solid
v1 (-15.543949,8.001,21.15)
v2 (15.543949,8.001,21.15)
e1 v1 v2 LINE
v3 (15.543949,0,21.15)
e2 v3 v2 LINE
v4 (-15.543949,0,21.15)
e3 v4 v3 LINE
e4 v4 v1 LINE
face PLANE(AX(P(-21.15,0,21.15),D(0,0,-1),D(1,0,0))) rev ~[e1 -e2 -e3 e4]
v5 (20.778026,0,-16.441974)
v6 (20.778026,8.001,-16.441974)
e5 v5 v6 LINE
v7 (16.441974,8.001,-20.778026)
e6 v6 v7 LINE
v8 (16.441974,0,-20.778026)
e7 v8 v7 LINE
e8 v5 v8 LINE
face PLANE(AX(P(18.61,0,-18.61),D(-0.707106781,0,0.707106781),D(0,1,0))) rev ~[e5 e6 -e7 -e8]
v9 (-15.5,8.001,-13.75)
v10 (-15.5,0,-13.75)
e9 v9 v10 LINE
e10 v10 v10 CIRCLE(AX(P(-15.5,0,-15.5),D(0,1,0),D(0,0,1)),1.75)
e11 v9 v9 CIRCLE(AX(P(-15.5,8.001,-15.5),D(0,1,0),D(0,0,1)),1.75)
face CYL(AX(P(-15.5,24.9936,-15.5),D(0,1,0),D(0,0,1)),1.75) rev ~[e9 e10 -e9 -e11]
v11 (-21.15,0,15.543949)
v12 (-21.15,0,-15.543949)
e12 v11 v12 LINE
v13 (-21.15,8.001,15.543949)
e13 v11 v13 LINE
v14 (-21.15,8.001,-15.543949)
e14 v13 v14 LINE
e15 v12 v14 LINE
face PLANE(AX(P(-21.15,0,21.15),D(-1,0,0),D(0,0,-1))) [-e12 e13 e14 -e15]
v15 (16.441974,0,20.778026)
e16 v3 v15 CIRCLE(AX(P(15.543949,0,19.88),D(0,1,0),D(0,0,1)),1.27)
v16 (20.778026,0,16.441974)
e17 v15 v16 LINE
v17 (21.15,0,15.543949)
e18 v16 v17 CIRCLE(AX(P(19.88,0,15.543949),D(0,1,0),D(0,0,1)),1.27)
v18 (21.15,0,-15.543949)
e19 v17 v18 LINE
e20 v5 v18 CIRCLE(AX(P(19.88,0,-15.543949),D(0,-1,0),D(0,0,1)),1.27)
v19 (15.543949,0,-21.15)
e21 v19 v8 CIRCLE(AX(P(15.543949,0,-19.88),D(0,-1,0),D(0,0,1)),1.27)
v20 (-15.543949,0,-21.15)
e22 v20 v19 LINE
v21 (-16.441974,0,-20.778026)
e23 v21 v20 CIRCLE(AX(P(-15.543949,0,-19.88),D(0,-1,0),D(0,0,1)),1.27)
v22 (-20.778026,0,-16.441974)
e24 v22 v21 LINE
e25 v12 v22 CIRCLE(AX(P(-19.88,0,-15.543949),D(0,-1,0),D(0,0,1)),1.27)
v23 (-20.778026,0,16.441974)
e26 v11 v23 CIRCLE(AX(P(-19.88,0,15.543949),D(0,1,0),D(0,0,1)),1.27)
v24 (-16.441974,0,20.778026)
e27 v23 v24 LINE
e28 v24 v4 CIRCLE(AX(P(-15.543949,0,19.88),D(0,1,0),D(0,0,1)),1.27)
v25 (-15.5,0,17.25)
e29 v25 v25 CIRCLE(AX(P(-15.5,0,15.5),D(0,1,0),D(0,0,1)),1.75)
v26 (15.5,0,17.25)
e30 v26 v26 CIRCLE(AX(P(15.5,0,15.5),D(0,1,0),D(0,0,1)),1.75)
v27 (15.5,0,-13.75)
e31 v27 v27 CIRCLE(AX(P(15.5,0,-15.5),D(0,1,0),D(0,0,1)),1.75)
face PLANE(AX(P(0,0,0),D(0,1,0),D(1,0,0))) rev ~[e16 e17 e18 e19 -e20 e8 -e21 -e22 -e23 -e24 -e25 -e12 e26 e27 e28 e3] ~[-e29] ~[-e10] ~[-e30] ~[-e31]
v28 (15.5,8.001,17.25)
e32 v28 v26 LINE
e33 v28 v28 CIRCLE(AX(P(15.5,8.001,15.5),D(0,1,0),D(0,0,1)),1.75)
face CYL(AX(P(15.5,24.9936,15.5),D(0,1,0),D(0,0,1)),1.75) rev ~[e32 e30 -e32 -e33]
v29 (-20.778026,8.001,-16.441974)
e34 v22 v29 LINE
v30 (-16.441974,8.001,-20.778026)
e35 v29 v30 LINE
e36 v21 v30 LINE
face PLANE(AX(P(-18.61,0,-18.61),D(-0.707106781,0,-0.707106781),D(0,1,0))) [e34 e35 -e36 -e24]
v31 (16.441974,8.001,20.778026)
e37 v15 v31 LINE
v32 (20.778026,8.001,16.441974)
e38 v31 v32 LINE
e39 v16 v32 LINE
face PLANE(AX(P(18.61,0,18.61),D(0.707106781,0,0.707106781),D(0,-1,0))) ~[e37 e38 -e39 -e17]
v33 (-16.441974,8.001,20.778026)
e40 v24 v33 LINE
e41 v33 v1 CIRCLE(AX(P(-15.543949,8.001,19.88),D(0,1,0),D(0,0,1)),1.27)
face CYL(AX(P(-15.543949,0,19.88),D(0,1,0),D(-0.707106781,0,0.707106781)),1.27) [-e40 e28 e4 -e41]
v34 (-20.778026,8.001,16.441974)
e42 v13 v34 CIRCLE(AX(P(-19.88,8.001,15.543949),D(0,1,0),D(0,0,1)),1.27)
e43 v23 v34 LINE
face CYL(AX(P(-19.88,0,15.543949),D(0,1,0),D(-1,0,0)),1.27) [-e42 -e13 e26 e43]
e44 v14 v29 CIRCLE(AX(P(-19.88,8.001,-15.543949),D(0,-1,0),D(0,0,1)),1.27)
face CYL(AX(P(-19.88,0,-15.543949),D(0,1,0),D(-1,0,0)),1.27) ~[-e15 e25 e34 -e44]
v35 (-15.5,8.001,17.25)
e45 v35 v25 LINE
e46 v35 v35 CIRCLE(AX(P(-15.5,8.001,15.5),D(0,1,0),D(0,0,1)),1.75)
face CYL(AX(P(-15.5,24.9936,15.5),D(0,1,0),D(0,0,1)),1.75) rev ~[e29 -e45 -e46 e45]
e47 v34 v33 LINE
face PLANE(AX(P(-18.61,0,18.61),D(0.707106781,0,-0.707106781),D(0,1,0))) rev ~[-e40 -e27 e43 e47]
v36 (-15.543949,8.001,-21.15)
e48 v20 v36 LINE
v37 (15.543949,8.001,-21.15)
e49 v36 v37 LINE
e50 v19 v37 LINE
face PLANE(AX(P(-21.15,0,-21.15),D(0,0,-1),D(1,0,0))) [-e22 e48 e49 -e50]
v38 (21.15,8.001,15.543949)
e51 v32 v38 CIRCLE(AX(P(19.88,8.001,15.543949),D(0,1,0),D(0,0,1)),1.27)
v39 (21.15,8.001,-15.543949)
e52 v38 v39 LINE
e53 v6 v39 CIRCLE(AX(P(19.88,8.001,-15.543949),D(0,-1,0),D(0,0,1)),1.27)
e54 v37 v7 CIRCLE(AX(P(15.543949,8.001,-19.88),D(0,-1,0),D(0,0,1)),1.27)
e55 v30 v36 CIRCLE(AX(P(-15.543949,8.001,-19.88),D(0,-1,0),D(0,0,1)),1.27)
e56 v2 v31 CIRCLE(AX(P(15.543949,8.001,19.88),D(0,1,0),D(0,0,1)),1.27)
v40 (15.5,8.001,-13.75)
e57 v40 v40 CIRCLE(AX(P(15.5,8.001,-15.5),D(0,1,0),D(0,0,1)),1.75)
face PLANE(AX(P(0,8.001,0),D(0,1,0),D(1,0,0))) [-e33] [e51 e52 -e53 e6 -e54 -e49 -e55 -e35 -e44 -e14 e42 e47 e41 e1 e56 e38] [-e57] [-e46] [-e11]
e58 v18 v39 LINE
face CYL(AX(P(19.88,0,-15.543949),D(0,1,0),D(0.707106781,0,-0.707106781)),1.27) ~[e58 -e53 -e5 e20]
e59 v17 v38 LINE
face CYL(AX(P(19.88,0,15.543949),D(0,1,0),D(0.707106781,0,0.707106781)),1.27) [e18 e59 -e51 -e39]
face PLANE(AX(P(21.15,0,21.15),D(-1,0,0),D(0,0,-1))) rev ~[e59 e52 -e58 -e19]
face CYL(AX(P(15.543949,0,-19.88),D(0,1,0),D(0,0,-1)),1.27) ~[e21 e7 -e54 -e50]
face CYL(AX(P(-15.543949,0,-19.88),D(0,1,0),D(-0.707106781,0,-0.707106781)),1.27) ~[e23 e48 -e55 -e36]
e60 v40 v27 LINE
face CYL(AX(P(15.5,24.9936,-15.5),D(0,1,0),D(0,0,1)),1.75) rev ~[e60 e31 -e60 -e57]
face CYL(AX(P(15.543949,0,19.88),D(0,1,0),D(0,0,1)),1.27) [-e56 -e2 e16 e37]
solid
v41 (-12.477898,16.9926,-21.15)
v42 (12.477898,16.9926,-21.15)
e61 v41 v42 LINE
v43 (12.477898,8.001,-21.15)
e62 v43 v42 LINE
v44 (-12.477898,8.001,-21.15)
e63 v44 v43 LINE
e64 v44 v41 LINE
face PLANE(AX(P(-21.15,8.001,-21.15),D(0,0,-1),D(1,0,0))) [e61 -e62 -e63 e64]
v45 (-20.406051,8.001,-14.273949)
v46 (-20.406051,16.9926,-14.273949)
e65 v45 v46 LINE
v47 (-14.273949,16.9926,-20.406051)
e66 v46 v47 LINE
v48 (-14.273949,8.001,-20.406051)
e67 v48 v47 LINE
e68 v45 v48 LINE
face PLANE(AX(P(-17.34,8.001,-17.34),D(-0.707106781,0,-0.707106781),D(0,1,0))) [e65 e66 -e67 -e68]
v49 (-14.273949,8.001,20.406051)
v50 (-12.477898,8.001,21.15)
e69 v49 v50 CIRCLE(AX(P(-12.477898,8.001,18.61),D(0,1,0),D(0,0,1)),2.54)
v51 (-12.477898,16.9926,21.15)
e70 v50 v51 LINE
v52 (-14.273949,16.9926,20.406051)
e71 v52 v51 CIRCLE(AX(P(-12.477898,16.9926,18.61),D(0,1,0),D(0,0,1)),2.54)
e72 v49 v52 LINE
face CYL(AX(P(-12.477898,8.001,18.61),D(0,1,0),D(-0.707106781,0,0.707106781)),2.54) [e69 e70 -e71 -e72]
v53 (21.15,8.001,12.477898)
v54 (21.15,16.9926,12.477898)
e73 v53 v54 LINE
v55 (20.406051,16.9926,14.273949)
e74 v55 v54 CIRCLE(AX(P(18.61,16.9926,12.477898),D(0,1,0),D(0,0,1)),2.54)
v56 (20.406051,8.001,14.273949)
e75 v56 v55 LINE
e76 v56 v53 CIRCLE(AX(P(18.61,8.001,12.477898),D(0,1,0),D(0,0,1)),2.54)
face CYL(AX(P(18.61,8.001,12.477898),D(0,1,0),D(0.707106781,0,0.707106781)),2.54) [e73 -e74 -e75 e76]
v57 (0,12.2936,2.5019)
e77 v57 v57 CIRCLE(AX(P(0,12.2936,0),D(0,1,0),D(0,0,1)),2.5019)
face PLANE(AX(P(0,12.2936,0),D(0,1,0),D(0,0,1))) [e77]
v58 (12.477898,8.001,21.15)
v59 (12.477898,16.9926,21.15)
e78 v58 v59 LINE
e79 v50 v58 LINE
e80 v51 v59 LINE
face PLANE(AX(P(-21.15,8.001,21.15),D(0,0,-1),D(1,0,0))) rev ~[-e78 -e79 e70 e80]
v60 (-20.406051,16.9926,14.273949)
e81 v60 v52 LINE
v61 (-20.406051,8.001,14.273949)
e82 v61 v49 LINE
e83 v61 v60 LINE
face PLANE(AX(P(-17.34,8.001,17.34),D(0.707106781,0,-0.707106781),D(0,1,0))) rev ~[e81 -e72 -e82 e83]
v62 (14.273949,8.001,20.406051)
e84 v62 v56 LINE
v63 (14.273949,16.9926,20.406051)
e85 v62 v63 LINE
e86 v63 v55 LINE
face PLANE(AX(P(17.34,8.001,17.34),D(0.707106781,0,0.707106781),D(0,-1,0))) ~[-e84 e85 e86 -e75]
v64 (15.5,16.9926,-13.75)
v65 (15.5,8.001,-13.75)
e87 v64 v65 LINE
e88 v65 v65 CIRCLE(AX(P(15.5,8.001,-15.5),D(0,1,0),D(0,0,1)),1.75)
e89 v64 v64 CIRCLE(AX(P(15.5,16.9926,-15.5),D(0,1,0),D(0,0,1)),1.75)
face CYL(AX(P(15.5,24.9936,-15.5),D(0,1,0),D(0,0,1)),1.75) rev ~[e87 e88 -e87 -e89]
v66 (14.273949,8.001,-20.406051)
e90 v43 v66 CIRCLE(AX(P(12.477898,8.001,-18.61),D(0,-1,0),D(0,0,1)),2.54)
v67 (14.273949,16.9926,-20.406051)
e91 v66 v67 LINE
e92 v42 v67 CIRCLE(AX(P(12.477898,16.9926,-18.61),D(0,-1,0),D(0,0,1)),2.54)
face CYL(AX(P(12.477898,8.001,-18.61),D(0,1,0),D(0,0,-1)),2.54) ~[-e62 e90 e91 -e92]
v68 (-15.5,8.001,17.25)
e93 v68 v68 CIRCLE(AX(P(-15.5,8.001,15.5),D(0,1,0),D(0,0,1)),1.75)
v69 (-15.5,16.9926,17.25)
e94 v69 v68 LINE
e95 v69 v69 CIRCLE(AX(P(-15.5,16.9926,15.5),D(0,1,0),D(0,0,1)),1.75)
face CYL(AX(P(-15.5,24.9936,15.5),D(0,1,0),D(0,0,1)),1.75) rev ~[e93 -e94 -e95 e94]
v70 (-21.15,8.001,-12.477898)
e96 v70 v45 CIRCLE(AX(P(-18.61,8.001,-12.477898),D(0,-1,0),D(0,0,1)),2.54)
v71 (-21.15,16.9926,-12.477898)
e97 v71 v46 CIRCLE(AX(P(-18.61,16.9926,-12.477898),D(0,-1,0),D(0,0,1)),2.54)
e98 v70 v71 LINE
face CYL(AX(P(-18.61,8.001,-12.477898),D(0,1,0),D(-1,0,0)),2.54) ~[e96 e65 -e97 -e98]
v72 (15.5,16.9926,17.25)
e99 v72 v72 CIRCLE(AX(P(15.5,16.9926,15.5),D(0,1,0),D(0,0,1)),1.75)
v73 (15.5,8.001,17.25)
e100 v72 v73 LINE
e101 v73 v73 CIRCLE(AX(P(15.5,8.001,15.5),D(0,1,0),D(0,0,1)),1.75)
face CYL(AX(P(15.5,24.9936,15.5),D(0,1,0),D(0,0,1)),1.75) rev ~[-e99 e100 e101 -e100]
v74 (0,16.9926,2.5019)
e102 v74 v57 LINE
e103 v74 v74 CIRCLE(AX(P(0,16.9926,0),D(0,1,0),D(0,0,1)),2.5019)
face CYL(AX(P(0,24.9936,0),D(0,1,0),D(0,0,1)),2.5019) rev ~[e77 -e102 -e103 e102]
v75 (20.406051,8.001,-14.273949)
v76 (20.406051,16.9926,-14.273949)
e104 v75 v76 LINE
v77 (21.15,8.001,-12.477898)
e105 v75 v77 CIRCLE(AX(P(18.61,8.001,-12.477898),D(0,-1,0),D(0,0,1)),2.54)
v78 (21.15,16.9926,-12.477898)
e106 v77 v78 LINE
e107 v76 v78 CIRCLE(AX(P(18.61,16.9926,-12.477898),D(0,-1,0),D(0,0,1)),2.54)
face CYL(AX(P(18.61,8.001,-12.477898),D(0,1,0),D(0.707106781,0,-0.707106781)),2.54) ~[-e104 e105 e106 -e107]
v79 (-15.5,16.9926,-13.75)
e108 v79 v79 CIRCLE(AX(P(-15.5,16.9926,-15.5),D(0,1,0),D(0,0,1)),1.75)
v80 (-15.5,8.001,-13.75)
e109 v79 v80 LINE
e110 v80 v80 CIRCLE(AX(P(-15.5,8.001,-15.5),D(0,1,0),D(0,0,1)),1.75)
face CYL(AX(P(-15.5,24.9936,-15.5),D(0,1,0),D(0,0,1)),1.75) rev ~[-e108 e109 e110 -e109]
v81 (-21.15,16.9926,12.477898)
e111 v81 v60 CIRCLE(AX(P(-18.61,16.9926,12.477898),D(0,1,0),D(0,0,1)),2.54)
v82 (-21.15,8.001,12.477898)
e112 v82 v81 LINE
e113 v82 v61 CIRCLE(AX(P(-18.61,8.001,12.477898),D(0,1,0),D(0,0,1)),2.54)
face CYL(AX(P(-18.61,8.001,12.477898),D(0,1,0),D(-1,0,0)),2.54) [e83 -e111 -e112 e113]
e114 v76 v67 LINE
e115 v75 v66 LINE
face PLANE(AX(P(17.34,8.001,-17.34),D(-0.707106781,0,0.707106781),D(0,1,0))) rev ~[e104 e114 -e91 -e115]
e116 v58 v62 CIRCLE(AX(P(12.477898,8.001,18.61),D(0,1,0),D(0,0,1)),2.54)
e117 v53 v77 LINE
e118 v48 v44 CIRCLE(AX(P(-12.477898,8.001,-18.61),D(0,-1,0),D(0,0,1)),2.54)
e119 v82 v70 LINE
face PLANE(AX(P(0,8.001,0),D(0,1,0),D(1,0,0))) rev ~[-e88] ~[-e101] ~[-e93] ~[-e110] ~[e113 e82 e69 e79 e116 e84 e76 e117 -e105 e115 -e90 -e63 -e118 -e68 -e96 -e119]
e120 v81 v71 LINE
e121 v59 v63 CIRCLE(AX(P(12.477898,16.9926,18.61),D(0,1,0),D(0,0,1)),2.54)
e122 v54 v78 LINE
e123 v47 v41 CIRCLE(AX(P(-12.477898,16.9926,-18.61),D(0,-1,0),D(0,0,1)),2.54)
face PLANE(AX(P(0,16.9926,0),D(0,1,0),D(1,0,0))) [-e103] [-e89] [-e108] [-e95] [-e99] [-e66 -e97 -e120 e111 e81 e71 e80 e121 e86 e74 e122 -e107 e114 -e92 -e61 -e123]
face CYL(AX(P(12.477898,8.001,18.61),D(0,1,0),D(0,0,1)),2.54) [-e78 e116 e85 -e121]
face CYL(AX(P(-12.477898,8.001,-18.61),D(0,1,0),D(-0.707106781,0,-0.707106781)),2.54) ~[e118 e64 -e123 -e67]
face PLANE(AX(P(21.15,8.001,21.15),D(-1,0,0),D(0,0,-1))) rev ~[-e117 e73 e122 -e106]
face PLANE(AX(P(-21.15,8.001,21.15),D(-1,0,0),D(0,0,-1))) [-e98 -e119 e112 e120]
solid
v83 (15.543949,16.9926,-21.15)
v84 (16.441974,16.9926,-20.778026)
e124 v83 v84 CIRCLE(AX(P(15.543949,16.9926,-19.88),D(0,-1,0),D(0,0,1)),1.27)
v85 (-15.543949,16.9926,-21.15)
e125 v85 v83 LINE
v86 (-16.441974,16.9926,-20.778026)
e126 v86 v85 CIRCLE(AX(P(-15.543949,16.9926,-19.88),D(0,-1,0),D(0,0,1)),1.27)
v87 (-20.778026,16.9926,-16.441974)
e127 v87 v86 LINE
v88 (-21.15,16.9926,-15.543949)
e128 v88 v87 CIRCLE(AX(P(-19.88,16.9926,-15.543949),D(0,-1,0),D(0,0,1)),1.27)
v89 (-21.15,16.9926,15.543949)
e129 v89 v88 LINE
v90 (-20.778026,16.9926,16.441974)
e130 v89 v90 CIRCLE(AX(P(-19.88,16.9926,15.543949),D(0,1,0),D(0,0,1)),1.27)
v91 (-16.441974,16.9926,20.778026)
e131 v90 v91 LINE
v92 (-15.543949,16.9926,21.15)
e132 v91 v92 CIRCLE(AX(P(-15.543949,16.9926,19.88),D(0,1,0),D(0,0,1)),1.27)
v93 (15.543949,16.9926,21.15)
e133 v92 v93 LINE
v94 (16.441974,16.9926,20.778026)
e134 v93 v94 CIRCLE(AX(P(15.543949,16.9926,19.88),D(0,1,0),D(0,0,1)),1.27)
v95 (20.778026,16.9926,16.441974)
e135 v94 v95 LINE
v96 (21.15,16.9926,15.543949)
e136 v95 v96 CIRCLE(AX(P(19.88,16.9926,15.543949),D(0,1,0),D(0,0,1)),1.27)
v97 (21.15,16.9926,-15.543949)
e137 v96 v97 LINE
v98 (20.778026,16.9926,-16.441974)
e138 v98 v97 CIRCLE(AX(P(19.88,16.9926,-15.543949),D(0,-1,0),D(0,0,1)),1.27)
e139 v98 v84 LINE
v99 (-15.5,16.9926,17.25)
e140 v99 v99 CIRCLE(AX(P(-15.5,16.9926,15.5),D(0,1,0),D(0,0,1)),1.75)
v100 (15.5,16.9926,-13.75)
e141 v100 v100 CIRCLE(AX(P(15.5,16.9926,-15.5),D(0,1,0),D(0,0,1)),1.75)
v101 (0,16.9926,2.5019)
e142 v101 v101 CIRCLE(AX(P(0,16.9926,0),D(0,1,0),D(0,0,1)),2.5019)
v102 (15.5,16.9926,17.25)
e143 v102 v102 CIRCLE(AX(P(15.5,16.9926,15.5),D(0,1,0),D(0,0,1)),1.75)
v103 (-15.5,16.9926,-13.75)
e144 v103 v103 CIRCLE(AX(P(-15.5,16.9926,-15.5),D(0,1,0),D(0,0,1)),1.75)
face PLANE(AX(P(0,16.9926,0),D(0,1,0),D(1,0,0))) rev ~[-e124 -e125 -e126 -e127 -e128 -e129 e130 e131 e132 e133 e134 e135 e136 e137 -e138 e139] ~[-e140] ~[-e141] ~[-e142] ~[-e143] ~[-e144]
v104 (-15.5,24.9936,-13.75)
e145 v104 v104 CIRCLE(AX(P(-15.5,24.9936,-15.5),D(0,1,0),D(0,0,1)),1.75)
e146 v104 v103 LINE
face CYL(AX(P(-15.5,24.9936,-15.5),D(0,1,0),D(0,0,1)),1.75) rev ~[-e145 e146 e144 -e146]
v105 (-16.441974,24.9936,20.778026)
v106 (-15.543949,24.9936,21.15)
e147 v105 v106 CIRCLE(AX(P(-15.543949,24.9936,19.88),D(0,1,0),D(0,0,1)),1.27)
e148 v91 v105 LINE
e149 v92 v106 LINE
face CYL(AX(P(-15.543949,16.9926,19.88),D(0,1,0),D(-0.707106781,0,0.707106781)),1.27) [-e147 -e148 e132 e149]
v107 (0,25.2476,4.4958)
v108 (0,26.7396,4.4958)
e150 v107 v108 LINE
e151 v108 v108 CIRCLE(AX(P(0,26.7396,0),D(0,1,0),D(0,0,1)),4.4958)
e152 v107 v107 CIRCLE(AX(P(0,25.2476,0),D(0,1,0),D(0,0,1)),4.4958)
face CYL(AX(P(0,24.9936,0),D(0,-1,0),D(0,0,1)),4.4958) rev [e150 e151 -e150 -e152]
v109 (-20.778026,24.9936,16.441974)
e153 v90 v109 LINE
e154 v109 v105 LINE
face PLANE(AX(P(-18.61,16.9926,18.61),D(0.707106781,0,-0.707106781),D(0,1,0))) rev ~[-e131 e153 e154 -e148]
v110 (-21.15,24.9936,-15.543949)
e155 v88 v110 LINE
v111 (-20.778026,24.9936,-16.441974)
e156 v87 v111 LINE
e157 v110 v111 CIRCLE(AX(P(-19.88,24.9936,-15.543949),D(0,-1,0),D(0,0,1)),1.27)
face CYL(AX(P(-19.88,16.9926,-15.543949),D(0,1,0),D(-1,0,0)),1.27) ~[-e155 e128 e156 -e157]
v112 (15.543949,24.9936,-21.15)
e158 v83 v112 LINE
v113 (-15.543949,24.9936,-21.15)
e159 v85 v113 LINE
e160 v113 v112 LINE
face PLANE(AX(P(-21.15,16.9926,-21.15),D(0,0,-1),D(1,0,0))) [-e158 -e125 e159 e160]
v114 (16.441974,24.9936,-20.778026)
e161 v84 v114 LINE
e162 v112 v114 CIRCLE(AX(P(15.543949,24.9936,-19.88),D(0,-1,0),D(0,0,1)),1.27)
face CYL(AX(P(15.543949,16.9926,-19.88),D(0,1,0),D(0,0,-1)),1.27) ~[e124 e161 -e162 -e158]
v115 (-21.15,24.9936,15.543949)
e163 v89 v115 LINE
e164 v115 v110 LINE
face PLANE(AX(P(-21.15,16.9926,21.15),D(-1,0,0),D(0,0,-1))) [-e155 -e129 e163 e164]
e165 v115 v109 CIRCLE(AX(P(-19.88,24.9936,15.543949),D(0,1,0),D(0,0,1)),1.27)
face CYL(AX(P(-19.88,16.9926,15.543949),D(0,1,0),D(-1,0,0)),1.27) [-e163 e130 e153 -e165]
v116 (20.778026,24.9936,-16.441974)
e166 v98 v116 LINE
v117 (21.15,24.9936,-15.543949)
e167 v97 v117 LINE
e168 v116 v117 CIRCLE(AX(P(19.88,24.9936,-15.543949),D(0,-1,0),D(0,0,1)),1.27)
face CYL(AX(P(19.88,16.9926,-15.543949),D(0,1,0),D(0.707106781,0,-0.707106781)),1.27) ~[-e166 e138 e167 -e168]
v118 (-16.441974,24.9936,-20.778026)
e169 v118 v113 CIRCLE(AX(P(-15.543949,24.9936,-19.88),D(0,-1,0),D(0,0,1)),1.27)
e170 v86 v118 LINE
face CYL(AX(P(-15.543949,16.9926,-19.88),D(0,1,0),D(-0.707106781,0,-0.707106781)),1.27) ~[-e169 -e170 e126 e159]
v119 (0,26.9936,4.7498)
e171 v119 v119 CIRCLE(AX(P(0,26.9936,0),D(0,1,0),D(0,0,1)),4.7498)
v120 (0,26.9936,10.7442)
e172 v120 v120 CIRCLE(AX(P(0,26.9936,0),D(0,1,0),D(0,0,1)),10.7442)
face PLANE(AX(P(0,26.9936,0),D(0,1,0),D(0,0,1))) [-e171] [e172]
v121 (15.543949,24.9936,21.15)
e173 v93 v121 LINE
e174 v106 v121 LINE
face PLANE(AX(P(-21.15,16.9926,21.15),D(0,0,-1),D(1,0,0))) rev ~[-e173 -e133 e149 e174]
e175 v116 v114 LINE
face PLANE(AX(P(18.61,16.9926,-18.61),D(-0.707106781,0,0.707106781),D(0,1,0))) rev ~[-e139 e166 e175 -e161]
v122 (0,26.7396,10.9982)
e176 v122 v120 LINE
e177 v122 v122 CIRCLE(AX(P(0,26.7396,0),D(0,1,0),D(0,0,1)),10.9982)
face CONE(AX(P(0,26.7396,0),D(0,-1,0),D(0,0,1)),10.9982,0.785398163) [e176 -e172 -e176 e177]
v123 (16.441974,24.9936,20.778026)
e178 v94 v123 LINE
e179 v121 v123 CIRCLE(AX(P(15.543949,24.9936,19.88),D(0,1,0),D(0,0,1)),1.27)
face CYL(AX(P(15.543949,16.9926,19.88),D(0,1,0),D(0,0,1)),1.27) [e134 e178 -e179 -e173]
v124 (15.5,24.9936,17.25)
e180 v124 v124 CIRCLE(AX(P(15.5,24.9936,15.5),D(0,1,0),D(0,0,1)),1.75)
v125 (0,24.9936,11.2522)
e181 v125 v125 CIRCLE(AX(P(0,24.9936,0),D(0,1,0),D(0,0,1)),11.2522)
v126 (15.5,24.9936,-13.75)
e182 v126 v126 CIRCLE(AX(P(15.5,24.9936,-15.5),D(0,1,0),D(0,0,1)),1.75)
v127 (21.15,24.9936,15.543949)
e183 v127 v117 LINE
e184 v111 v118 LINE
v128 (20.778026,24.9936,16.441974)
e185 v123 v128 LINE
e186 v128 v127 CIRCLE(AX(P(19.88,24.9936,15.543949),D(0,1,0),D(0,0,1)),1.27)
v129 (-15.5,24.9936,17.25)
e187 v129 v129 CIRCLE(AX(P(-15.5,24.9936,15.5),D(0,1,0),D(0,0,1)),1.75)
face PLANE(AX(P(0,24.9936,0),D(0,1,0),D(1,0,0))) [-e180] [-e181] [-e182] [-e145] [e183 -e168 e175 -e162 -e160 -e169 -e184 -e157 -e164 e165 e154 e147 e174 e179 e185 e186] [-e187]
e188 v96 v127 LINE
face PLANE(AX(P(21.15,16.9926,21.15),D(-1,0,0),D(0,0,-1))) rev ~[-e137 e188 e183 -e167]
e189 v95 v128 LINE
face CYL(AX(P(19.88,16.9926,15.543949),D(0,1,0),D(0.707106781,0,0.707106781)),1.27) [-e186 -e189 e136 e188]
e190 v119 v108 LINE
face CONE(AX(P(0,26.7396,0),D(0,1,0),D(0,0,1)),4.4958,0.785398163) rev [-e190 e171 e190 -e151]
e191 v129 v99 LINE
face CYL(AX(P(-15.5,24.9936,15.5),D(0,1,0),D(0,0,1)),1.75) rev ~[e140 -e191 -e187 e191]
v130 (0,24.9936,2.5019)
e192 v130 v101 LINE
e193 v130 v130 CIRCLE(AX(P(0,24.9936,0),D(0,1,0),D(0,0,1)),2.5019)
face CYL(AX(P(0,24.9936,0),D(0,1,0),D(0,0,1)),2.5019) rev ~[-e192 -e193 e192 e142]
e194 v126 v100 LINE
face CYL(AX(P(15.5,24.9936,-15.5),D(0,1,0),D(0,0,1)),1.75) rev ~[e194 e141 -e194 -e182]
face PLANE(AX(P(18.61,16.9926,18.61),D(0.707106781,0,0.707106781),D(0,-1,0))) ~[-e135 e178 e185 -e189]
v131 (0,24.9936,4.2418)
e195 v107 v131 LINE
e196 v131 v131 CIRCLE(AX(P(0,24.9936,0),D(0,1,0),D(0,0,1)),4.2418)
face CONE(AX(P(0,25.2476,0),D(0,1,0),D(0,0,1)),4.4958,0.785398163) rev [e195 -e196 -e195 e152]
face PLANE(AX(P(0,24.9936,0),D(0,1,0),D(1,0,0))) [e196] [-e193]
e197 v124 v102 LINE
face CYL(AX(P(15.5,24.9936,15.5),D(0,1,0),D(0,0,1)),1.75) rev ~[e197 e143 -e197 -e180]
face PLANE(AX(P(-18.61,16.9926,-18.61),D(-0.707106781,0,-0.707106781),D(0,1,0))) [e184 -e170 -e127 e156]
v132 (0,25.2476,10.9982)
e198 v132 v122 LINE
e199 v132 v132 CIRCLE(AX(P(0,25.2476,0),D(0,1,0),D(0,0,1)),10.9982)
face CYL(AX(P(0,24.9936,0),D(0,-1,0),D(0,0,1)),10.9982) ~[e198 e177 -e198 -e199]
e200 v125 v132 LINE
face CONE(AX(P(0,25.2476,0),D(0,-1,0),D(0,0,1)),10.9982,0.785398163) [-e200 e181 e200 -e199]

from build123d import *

# Parameters (mm, degrees)
SKETCH1_W           = 42.3
SKETCH1_H           = 42.3
BOSS_EXTRUDE1_DEPTH = 8.001
CHAMFER1_SIZE       = 5.08
SKETCH2_W           = 42.3
SKETCH2_H           = 42.3
BOSS_EXTRUDE2_DEPTH = 8.9916
CHAMFER3_SIZE       = 7.62
FILLET1_R           = 2.54
FILLET2_R           = 1.27
SKETCH3_W           = 42.3
SKETCH3_H           = 42.3
BOSS_EXTRUDE3_DEPTH = 8.001
CHAMFER4_SIZE       = 5.08
FILLET3_R           = 1.27
SKETCH4_R           = 10.9982
SKETCH4_R_2         = 4.4958
BOSS_EXTRUDE4_DEPTH = 2
CHAMFER5_SIZE       = 0.254
SKETCH5_R           = 2.5019
CUT_EXTRUDE1_DEPTH  = 12.7
SKETCH6_R           = 1.75
CUT_EXTRUDE2_DEPTH  = 39.978520251


with BuildPart() as part:
    # Sketch1 → Boss-Extrude1 (new body)
    with BuildSketch(Plane(origin=(0, 0, 0), x_dir=(1, 0, 0), z_dir=(0, 1, 0))):
        Rectangle(SKETCH1_W, SKETCH1_H)
    extrude(amount=BOSS_EXTRUDE1_DEPTH)

    # Chamfer1
    chamfer1_edges = [part.edges().sort_by_distance(p)[0] for p in [
        (21.15, 4.0005, 21.15),
        (-21.15, 4.0005, 21.15),
        (-21.15, 4.0005, -21.15),
        (21.15, 4.0005, -21.15),
    ]]
    chamfer(chamfer1_edges, length=CHAMFER1_SIZE)

    # Fillet2
    fillet2_edges = [part.edges().sort_by_distance(p)[0] for p in [
        (16.07, 4.0005, 21.15),
        (-16.07, 4.0005, 21.15),
        (-21.15, 4.0005, -16.07),
        (-21.15, 4.0005, 16.07),
        (16.07, 4.0005, -21.15),
        (-16.07, 4.0005, -21.15),
        (21.15, 4.0005, 16.07),
        (21.15, 4.0005, -16.07),
    ]]
    fillet(fillet2_edges, radius=FILLET2_R)


with BuildPart() as body_2:
    # Sketch2 → Boss-Extrude2 (new body)
    with BuildSketch(Plane(origin=(0, 8.001, 0), x_dir=(1, 0, 0), z_dir=(0, 1, 0))):
        Rectangle(SKETCH2_W, SKETCH2_H)
    extrude(amount=BOSS_EXTRUDE2_DEPTH)

    # Chamfer3
    chamfer3_edges = [body_2.edges().sort_by_distance(p)[0] for p in [
        (21.15, 12.4968, 21.15),
        (-21.15, 12.4968, 21.15),
        (-21.15, 12.4968, -21.15),
        (21.15, 12.4968, -21.15),
    ]]
    chamfer(chamfer3_edges, length=CHAMFER3_SIZE)

    # Fillet1
    fillet1_edges = [body_2.edges().sort_by_distance(p)[0] for p in [
        (-21.15, 12.4968, 13.53),
        (-21.15, 12.4968, -13.53),
        (13.53, 12.4968, -21.15),
        (-13.53, 12.4968, -21.15),
        (13.53, 12.4968, 21.15),
        (-13.53, 12.4968, 21.15),
        (21.15, 12.4968, -13.53),
        (21.15, 12.4968, 13.53),
    ]]
    fillet(fillet1_edges, radius=FILLET1_R)


with BuildPart() as body_3:
    # Sketch3 → Boss-Extrude3 (new body)
    with BuildSketch(Plane(origin=(0, 16.9926, 0), x_dir=(1, 0, 0), z_dir=(0, 1, 0))):
        Rectangle(SKETCH3_W, SKETCH3_H)
    extrude(amount=BOSS_EXTRUDE3_DEPTH)

    # Chamfer4
    chamfer4_edges = [body_3.edges().sort_by_distance(p)[0] for p in [
        (21.15, 20.9931, 21.15),
        (-21.15, 20.9931, 21.15),
        (-21.15, 20.9931, -21.15),
        (21.15, 20.9931, -21.15),
    ]]
    chamfer(chamfer4_edges, length=CHAMFER4_SIZE)

    # Fillet3
    fillet3_edges = [body_3.edges().sort_by_distance(p)[0] for p in [
        (16.07, 20.9931, 21.15),
        (-16.07, 20.9931, 21.15),
        (-21.15, 20.9931, -16.07),
        (-21.15, 20.9931, 16.07),
        (16.07, 20.9931, -21.15),
        (-16.07, 20.9931, -21.15),
        (21.15, 20.9931, 16.07),
        (21.15, 20.9931, -16.07),
    ]]
    fillet(fillet3_edges, radius=FILLET3_R)

    # Sketch4 → Boss-Extrude4 (add)
    with BuildSketch(Plane(origin=(0, 24.9936, 0), x_dir=(1, 0, 0), z_dir=(0, 1, 0))):
        with Locations(Location((0, 0, 0), (0, 0, 270))):
            Circle(SKETCH4_R)
        with Locations(Location((0, 0, 0), (0, 0, 270))):
            Circle(SKETCH4_R_2, mode=Mode.SUBTRACT)
    extrude(amount=BOSS_EXTRUDE4_DEPTH)

    # Chamfer5
    chamfer5_edges = [body_3.edges().sort_by_distance(p)[0] for p in [
        (0, 26.9936, -10.9982),
        (0, 24.9936, -10.9982),
        (0, 26.9936, -4.4958),
        (0, 24.9936, -4.4958),
    ]]
    chamfer(chamfer5_edges, length=CHAMFER5_SIZE)


with BuildPart() as cut_extrude1_tool:
    # Sketch5 → Cut-Extrude1 (new body)
    with BuildSketch(Plane(origin=(0, 24.9936, 0), x_dir=(1, 0, 0), z_dir=(0, 1, 0))):
        with Locations(Location((0, 0, 0), (0, 0, 270))):
            Circle(SKETCH5_R)
    extrude(amount=-CUT_EXTRUDE1_DEPTH)


with BuildPart() as body_2_1:
    add(body_2.part)

    # Cut-Extrude1: cut by cut_extrude1_tool
    add(cut_extrude1_tool.part, mode=Mode.SUBTRACT)


with BuildPart() as body_3_1:
    add(body_3.part)

    # Cut-Extrude1: cut by cut_extrude1_tool
    add(cut_extrude1_tool.part, mode=Mode.SUBTRACT)


with BuildPart() as cut_extrude2_tool:
    # Sketch6 → Cut-Extrude2 (new, through all)
    with BuildSketch(Plane(origin=(0, 24.9936, 0), x_dir=(1, 0, 0), z_dir=(0, 1, 0))):
        with Locations(Location((15.5, -15.5, 0), (0, 0, 270))):
            Circle(SKETCH6_R)
        with Locations(Location((-15.499999976, -15.5, 0), (0, 0, 270))):
            Circle(SKETCH6_R)
        with Locations(Location((-15.499999976, 15.499999976, 0), (0, 0, 270))):
            Circle(SKETCH6_R)
        with Locations(Location((15.5, 15.499999976, 0), (0, 0, 270))):
            Circle(SKETCH6_R)
    extrude(amount=-CUT_EXTRUDE2_DEPTH)


with BuildPart() as part_1:
    add(part.part)

    # Cut-Extrude2: cut by cut_extrude2_tool
    add(cut_extrude2_tool.part, mode=Mode.SUBTRACT)


with BuildPart() as body_2_2:
    add(body_2_1.part)

    # Cut-Extrude2: cut by cut_extrude2_tool
    add(cut_extrude2_tool.part, mode=Mode.SUBTRACT)


with BuildPart() as body_3_2:
    add(body_3_1.part)

    # Cut-Extrude2: cut by cut_extrude2_tool
    add(cut_extrude2_tool.part, mode=Mode.SUBTRACT)


solid = Compound([part_1.part, body_2_2.part, body_3_2.part])
